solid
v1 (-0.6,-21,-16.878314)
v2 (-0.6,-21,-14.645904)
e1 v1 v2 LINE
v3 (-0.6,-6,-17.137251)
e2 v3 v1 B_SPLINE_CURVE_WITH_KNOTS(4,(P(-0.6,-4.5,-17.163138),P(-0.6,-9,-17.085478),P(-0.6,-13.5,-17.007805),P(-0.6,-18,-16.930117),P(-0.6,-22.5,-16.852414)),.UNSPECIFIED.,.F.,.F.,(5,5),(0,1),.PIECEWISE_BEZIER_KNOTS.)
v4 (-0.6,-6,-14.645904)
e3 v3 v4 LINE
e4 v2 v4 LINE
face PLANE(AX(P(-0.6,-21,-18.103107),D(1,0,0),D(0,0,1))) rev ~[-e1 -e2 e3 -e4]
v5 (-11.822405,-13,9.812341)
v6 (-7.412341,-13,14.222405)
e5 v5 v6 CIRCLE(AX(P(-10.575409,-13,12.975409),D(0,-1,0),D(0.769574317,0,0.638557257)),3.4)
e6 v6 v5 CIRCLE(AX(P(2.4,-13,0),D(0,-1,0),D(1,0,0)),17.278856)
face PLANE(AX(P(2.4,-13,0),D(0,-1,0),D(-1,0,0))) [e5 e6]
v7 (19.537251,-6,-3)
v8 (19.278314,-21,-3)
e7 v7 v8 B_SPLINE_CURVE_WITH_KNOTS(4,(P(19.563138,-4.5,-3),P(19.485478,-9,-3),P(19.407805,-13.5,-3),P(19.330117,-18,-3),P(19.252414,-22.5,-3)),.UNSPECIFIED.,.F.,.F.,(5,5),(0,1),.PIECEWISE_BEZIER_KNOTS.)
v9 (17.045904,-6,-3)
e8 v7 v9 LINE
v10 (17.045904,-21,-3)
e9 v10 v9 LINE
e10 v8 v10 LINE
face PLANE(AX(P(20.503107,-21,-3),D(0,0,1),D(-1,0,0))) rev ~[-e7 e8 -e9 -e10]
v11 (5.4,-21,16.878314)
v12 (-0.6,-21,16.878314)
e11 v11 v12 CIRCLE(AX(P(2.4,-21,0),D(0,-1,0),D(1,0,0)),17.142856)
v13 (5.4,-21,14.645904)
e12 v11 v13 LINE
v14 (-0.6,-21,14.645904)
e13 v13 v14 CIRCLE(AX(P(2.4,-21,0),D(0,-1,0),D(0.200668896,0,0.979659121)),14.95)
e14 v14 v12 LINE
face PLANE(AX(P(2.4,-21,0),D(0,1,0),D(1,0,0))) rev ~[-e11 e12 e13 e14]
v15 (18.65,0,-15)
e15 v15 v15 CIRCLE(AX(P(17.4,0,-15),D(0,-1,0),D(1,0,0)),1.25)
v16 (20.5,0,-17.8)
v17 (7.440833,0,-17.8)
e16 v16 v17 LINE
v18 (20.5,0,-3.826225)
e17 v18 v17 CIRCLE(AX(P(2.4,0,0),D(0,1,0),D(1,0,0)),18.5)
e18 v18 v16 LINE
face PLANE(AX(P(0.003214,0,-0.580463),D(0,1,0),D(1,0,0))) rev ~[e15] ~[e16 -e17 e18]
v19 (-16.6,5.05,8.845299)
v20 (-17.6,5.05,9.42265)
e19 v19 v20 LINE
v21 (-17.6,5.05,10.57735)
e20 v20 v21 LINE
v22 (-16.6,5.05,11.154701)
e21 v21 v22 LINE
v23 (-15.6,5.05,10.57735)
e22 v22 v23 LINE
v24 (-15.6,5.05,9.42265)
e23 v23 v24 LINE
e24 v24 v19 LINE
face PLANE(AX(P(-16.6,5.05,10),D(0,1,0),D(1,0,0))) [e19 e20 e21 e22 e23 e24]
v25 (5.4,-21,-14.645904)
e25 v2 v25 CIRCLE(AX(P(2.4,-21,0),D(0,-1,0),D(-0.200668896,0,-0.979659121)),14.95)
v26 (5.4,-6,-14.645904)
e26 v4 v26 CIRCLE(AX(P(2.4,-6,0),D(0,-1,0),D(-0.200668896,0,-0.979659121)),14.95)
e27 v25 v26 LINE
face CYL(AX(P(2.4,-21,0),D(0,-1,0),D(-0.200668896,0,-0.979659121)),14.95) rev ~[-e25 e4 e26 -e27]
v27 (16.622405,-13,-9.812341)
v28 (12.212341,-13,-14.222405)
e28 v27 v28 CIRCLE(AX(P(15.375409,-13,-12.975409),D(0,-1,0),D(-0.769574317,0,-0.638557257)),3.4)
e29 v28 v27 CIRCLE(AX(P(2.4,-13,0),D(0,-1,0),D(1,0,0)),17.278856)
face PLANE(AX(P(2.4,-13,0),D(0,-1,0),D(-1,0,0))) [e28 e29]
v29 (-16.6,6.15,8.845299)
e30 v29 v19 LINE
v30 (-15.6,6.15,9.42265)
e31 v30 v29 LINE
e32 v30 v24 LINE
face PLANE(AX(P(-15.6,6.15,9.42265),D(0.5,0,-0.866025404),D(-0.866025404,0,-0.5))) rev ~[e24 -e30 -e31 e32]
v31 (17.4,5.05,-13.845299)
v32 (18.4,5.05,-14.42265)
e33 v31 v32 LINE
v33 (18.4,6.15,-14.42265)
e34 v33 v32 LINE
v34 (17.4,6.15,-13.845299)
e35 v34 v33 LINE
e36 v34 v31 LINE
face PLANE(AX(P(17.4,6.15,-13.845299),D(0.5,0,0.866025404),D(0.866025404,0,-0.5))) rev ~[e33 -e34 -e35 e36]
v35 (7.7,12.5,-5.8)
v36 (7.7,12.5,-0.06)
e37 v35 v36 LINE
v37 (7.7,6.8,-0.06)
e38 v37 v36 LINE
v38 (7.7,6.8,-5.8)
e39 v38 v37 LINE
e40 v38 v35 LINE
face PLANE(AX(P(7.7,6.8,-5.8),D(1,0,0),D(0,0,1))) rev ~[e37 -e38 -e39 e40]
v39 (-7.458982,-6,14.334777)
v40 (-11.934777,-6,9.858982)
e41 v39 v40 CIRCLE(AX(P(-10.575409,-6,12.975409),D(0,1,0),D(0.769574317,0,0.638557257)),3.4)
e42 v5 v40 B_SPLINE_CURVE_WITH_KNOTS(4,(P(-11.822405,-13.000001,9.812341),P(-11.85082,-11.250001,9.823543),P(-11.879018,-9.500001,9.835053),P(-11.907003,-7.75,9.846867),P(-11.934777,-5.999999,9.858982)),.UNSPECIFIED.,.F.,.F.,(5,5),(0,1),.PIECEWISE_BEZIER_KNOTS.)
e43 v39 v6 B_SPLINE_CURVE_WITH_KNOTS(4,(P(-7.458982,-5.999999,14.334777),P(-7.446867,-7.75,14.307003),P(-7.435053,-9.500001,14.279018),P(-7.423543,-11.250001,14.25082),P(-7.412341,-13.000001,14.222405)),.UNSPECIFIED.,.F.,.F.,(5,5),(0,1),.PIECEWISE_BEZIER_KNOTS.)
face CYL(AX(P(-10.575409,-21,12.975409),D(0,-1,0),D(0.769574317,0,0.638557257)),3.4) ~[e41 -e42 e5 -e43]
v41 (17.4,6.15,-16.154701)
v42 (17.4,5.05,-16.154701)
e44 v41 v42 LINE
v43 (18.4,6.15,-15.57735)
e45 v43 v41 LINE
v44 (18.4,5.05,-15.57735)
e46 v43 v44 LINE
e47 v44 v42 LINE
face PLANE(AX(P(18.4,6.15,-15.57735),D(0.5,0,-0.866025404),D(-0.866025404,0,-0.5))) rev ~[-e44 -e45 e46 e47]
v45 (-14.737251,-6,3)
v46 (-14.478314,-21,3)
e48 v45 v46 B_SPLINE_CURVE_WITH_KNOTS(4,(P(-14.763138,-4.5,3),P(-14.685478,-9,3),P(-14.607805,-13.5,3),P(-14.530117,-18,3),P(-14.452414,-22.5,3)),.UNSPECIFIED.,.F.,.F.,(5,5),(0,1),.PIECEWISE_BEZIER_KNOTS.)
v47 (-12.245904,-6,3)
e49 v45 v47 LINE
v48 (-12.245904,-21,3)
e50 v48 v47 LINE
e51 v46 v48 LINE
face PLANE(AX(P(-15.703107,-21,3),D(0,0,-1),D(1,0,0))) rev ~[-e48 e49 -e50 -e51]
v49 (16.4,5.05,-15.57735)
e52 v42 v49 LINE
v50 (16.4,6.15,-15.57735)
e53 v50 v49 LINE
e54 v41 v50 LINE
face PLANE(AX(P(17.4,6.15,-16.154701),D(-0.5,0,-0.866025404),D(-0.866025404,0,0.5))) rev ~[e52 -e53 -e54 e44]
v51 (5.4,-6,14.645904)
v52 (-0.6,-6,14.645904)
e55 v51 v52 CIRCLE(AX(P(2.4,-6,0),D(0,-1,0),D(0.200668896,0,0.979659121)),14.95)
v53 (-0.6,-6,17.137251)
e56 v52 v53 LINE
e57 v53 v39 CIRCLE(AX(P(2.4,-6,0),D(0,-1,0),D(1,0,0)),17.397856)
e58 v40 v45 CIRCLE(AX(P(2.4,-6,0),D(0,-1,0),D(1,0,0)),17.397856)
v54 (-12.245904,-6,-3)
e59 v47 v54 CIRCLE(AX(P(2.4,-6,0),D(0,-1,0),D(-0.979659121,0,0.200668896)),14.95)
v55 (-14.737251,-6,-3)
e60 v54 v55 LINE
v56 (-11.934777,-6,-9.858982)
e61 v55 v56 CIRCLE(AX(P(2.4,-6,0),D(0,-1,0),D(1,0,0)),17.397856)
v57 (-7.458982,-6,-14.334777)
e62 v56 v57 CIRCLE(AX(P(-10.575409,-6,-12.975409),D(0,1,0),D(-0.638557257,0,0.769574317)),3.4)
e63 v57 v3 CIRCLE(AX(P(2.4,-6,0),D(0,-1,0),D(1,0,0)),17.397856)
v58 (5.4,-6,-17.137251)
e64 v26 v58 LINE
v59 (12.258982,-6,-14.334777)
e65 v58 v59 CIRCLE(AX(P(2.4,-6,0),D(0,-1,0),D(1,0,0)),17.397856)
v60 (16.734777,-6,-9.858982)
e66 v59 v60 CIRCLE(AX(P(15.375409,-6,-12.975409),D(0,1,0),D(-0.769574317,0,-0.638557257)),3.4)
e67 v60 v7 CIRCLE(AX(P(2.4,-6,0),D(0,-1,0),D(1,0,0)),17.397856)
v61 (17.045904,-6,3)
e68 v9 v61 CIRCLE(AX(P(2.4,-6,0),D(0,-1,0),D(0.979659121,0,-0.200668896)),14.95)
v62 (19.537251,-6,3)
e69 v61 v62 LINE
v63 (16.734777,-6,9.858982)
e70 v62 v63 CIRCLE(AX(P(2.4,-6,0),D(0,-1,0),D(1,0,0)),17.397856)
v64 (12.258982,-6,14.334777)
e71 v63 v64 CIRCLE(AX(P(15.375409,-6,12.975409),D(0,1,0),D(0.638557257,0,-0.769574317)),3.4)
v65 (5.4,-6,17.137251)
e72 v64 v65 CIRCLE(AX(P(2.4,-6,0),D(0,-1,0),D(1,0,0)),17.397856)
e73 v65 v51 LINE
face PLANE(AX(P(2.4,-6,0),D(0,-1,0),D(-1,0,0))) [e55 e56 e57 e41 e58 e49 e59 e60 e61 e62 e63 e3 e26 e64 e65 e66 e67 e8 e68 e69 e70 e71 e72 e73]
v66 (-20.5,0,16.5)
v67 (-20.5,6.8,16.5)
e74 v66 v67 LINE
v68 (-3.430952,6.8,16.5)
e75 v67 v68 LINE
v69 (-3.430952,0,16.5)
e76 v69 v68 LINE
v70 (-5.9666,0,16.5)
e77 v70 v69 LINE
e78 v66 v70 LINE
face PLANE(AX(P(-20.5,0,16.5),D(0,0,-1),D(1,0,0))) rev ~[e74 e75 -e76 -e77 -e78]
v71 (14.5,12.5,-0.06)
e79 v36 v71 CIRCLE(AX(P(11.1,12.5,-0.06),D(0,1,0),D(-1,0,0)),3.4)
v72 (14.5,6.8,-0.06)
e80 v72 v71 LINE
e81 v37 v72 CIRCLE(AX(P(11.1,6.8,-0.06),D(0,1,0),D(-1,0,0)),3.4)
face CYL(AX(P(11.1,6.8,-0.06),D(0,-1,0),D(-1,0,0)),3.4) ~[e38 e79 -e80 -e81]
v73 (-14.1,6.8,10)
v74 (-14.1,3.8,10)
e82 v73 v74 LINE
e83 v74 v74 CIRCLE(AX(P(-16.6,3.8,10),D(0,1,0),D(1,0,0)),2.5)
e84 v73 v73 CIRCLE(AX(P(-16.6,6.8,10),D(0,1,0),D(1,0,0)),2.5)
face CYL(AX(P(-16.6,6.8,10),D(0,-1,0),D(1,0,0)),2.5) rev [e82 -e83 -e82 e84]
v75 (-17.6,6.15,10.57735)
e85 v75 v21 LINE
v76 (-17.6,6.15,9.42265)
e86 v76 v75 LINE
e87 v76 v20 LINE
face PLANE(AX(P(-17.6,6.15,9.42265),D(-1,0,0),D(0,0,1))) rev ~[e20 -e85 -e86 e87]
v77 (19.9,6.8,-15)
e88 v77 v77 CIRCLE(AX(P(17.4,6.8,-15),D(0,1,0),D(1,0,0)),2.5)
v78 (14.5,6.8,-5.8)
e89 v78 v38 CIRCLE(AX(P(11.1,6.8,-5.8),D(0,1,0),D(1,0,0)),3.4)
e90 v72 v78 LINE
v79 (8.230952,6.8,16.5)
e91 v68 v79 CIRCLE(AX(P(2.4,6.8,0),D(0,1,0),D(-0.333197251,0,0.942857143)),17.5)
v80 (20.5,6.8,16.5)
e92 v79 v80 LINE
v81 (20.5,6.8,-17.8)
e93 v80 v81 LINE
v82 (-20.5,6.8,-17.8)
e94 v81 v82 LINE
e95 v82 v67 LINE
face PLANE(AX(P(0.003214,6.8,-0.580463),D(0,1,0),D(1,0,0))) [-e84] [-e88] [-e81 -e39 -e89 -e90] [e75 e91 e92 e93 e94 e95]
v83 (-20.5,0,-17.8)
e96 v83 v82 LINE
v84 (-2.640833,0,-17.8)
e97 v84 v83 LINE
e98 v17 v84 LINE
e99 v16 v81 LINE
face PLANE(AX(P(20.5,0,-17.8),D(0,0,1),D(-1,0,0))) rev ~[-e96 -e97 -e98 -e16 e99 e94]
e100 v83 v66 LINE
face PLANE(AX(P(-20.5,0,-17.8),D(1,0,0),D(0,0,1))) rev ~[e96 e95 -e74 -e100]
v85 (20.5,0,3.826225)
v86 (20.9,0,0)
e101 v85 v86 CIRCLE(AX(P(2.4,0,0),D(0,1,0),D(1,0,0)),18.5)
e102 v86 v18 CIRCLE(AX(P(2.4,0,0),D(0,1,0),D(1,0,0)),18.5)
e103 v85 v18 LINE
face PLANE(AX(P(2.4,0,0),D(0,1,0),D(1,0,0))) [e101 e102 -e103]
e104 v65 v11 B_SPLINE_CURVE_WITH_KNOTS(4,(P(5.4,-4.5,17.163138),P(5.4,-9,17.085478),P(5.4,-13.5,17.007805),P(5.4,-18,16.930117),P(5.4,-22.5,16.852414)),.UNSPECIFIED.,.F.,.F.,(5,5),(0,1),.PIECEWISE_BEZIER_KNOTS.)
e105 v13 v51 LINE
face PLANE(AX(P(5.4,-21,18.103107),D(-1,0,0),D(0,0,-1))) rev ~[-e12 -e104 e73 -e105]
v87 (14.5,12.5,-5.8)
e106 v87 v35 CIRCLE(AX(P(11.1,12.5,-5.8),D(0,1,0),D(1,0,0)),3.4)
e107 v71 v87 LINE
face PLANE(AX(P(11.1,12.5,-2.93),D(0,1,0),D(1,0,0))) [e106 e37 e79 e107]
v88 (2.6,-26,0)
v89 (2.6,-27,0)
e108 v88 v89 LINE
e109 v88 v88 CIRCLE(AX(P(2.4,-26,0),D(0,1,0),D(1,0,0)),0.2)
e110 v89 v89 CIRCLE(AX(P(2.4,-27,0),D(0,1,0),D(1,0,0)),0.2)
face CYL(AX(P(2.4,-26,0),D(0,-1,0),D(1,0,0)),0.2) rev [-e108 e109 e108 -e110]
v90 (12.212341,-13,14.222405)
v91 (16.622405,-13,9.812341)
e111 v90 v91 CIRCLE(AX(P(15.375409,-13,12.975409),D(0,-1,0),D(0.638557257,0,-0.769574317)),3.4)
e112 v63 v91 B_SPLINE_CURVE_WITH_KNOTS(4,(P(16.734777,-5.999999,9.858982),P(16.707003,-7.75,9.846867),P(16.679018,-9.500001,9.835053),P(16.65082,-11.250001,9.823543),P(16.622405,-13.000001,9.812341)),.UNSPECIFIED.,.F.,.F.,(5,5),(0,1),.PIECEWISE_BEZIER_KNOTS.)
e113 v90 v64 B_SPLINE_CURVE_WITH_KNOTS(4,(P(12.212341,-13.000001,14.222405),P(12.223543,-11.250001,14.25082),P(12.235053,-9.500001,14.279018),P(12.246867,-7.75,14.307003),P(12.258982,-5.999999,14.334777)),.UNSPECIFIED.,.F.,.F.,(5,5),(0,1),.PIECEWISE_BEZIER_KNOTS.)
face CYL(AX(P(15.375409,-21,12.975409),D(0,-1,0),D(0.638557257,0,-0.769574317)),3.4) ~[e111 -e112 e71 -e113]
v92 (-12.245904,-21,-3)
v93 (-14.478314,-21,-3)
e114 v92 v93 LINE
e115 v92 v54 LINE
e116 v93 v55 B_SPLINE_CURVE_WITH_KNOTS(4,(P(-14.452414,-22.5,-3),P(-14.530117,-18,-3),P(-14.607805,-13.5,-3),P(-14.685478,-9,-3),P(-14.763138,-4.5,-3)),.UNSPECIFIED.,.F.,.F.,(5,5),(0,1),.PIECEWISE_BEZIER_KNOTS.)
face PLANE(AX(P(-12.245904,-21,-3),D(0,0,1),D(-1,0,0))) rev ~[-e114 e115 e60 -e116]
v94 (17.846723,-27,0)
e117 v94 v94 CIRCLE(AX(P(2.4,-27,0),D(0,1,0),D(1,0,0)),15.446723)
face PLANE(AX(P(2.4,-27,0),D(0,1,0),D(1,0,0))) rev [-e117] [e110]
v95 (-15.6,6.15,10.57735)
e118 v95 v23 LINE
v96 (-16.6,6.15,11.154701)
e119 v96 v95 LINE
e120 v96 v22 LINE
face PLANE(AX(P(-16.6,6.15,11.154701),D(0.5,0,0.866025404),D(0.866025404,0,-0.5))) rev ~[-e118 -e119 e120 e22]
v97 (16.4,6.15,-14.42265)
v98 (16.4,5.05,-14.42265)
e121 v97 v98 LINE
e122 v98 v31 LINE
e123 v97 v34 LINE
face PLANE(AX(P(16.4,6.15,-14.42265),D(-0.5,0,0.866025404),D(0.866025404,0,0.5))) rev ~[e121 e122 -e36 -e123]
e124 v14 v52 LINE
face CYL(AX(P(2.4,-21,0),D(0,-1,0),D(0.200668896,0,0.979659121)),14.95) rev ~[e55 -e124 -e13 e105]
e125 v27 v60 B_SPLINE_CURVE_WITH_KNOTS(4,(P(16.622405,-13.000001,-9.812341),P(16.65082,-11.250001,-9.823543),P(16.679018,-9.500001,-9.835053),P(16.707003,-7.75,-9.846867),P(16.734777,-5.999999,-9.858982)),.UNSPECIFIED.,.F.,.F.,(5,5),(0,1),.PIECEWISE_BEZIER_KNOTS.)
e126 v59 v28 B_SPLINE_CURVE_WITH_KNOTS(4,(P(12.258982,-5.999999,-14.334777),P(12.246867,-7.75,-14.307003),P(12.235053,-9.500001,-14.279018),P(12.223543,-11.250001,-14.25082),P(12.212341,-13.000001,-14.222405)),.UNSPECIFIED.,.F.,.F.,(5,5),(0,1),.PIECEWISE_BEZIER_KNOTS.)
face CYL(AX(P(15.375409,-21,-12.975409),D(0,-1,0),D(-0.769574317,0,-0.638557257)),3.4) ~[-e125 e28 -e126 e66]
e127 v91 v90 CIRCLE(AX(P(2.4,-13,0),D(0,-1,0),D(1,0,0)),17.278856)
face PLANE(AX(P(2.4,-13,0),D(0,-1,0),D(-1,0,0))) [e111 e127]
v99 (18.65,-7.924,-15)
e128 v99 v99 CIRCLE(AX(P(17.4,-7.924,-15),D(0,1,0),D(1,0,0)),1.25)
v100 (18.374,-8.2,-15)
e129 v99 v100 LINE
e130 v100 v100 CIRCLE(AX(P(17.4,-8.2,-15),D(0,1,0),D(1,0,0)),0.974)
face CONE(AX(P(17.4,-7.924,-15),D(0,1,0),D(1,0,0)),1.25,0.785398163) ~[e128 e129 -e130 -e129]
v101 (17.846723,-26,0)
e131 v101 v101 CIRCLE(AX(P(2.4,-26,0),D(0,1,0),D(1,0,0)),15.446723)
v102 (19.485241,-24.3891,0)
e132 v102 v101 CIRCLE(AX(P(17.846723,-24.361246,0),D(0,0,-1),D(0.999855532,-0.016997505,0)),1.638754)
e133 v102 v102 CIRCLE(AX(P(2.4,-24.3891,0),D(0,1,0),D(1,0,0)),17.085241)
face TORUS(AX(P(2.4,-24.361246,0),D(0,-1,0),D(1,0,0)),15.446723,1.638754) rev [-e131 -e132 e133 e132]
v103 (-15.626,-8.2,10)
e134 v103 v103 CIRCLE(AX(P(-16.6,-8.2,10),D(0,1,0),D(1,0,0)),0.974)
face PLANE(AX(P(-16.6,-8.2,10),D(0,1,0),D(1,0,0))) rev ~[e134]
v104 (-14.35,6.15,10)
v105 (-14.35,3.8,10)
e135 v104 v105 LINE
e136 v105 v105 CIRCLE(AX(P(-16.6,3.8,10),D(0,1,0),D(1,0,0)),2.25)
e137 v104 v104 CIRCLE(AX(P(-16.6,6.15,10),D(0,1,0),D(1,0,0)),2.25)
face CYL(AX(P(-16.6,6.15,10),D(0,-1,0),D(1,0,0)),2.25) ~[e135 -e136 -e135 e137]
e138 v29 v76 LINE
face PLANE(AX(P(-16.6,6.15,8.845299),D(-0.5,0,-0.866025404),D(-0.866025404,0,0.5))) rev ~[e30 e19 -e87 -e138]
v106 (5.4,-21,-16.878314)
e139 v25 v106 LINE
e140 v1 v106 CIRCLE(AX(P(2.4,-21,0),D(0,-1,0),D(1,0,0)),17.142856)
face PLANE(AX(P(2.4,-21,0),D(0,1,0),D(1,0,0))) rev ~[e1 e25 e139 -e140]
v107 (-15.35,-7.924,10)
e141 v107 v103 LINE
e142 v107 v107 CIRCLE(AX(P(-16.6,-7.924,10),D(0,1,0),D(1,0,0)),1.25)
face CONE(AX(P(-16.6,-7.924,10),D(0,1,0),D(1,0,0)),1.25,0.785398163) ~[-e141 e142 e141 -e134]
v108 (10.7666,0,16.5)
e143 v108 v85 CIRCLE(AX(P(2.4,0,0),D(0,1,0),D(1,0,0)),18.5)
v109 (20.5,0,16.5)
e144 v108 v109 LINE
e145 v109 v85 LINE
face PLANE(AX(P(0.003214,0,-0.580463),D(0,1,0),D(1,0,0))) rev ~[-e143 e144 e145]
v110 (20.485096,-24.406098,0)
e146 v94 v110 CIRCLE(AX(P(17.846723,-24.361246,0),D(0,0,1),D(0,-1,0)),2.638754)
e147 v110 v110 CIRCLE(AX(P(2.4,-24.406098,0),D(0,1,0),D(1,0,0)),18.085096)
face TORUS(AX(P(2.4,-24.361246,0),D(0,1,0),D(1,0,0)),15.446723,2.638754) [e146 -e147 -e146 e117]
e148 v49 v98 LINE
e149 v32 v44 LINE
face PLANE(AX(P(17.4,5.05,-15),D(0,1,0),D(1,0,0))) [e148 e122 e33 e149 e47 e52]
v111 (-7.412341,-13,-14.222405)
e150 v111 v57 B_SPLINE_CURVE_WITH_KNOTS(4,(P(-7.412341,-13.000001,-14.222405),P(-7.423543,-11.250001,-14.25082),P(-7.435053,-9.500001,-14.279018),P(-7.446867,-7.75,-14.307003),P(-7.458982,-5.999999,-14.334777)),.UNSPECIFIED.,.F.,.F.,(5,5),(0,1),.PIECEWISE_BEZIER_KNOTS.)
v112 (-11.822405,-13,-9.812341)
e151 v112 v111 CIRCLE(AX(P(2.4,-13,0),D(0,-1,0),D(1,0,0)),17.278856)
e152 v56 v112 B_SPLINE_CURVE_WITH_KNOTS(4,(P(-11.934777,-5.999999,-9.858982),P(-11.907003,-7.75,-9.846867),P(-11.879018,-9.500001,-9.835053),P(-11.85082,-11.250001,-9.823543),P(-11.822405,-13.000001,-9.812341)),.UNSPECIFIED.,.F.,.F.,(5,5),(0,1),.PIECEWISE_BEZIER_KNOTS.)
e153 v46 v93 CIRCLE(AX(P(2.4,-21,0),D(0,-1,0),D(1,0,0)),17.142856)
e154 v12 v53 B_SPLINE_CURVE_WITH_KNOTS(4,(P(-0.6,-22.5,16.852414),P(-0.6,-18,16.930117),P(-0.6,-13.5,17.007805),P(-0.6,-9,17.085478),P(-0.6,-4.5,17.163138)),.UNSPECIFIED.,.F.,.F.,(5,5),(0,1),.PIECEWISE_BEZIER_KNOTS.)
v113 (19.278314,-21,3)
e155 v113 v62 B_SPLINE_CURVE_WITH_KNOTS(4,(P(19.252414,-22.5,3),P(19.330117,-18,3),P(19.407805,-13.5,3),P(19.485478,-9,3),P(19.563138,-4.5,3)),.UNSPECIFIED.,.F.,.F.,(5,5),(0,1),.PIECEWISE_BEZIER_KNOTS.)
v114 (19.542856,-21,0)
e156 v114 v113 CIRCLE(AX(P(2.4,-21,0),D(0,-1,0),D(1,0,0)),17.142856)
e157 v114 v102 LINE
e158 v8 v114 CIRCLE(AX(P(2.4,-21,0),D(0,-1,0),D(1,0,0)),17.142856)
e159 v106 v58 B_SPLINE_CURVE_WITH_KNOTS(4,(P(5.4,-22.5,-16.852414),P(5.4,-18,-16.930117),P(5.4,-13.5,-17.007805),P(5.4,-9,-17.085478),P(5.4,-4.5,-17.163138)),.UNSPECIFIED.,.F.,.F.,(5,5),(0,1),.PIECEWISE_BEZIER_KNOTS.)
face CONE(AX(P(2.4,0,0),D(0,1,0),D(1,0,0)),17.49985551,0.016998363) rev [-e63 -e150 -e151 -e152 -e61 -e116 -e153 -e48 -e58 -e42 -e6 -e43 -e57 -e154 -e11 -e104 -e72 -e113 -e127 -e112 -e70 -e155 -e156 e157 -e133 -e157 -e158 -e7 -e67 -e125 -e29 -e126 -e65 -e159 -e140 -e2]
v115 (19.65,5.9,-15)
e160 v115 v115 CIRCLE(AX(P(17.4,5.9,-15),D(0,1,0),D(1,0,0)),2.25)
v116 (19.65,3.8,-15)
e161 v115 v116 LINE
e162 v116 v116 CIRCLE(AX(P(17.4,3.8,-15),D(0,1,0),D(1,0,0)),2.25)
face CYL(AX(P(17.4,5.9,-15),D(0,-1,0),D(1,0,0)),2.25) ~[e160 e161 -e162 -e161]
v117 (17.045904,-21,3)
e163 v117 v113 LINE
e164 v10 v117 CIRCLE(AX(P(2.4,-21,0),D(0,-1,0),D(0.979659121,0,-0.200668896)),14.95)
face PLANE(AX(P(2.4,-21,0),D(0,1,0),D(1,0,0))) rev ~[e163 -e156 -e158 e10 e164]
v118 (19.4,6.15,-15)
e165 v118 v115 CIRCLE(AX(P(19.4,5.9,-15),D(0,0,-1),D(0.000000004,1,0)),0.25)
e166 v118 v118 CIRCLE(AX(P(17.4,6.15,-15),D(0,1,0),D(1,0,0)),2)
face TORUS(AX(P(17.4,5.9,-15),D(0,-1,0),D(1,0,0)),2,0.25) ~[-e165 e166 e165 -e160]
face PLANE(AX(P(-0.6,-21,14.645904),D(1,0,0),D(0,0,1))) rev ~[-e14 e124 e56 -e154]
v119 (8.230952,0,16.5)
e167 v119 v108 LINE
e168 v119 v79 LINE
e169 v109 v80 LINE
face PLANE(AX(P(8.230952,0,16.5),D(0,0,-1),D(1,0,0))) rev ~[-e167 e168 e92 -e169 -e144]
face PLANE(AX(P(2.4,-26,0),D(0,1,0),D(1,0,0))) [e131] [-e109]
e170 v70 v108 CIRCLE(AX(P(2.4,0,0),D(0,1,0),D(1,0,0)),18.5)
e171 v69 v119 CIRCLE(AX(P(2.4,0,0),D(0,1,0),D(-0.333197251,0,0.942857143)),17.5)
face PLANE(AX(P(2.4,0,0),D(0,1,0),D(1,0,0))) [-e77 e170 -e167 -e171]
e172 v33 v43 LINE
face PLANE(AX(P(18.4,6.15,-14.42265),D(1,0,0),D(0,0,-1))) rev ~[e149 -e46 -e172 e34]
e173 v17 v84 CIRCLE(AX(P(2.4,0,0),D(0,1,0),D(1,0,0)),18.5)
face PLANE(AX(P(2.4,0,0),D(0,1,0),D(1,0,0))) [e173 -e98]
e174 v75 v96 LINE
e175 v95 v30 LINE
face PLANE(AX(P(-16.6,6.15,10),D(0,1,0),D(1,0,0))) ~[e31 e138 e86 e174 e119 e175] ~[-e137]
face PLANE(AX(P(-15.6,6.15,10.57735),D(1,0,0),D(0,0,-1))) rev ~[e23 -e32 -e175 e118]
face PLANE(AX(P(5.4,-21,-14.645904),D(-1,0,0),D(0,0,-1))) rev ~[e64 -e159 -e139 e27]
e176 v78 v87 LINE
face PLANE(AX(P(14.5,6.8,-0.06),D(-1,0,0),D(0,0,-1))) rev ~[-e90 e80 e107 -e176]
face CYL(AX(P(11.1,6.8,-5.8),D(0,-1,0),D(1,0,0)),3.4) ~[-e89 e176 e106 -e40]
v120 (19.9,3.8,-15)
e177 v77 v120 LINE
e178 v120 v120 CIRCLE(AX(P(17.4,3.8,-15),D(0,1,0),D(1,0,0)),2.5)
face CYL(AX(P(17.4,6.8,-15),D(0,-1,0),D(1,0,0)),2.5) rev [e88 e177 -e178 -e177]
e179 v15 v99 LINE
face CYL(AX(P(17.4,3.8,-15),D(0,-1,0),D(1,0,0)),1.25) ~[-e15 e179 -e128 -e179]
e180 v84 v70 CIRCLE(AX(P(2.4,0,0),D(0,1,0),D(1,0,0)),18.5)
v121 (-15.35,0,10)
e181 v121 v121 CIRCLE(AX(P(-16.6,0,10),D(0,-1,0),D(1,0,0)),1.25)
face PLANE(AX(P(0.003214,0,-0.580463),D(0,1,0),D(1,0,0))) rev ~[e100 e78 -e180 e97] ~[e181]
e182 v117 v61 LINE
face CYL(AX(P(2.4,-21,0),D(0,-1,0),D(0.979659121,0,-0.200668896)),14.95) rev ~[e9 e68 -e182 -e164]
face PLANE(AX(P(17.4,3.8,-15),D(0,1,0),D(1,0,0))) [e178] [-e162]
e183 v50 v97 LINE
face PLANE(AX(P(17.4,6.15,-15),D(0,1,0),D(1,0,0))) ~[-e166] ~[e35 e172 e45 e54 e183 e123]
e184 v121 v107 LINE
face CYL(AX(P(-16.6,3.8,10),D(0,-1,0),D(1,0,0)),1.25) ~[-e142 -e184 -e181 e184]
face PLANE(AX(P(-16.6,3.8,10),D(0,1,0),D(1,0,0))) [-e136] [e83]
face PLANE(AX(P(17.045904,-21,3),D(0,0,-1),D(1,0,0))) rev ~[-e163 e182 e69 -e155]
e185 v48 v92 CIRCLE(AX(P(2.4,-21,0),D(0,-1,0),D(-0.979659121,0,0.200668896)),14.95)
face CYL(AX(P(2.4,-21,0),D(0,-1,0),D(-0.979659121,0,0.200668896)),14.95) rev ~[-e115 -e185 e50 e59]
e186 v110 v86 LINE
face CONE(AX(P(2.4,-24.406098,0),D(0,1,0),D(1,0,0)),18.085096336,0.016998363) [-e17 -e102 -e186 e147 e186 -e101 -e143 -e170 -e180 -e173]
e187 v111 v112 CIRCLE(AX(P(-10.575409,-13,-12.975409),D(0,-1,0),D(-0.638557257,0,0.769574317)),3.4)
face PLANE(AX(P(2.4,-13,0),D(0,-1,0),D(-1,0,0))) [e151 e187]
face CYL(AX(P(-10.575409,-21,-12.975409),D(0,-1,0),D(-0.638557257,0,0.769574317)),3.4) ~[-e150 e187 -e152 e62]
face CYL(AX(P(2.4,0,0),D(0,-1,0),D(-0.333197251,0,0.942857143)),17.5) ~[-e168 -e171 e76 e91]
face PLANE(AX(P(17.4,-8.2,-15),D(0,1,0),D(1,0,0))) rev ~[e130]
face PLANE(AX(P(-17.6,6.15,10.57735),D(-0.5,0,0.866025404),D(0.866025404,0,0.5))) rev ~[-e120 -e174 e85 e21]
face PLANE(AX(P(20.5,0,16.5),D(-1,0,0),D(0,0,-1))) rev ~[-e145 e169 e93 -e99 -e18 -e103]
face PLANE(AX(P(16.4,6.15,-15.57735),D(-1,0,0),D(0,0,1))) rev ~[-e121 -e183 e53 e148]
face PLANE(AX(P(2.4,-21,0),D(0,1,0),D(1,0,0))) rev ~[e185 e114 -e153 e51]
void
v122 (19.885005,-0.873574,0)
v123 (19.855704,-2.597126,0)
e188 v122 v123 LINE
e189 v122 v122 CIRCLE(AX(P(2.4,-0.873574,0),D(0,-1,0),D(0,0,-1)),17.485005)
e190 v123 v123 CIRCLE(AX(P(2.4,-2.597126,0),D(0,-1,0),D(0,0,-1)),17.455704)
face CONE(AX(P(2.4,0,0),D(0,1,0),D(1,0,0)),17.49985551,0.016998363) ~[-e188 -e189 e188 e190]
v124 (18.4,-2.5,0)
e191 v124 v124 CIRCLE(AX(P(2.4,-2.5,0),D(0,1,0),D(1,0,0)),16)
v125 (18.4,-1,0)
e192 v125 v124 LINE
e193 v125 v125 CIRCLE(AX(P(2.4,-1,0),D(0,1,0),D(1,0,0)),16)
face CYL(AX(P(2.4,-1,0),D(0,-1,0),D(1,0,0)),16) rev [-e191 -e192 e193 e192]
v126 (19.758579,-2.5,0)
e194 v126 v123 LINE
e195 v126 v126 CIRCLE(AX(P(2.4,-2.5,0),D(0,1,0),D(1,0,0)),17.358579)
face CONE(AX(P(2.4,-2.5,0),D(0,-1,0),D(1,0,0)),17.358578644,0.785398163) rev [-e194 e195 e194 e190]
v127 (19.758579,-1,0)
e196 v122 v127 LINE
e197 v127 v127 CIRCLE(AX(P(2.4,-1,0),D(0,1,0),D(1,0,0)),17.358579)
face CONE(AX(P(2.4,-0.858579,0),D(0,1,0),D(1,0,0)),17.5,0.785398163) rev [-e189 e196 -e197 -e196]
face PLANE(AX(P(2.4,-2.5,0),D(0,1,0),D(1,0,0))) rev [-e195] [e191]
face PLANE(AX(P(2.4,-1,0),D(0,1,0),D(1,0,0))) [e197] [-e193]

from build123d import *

# Parameters (mm, degrees)
BOSS_EXTRUDE1_DEPTH = 6.8
CUT_EXTRUDE1_DEPTH  = 15
CUT_EXTRUDE2_DEPTH  = 8
BOSS_EXTRUDE2_DEPTH = 5.7
CUT_EXTRUDE3_DEPTH  = 1.1
CUT_EXTRUDE4_DEPTH  = 1.1


with BuildPart() as part:
    # Sketch1 → Revolve1 (revolve)
    with BuildSketch(Plane.XY):
        Polygon((2.4, 0), (19.9, 0), (19.9, -0.858578644), (19.758578644, -1), (18.4, -1), (18.4, -2.5), (19.758578644, -2.5), (19.9, -2.641421356), (19.9, -21), (2.4, -21), align=None)
    revolve(axis=Axis((2.4, -21, 0), (0, 1, 0)))

    # Sketch2 → Boss-Extrude1 (add)
    with BuildSketch(Plane(origin=(0, 0, 0), x_dir=(1, 0, 0), z_dir=(0, 1, 0))):
        with BuildLine():
            Line((-20.5, 17.8), (-20.5, -16.5))
            Line((-20.5, -16.5), (-3.430951895, -16.5))
            ThreePointArc((-3.430951895, -16.5), (2.4, -17.5), (8.230951895, -16.5))
            Line((8.230951895, -16.5), (20.5, -16.5))
            Line((20.5, -16.5), (20.5, 17.8))
            Line((20.5, 17.8), (-20.5, 17.8))
        make_face()
    extrude(amount=BOSS_EXTRUDE1_DEPTH)

    # Sketch3 → Cut-Extrude1 (cut)
    with BuildSketch(Plane(origin=(0, -21, 0), x_dir=(-1, 0, 0), z_dir=(0, -1, 0))):
        with BuildLine():
            Line((0.6, 18.103107468), (0.6, 14.645903864))
            ThreePointArc((0.6, 14.645903864), (-2.4, 14.95), (-5.4, 14.645903864))
            Line((-5.4, 14.645903864), (-5.4, 18.103107468))
            ThreePointArc((-5.4, 18.103107468), (-9.241062733, 17.027106645), (-12.758856756, 15.146504108))
            ThreePointArc((-12.758856756, 15.146504108), (-12.971246379, 10.571246379), (-17.546504108, 10.358856756))
            ThreePointArc((-17.546504108, 10.358856756), (-19.427106645, 6.841062733), (-20.503107468, 3))
            Line((-20.503107468, 3), (-17.045903864, 3))
            ThreePointArc((-17.045903864, 3), (-17.35, 0), (-17.045903864, -3))
            Line((-17.045903864, -3), (-20.503107468, -3))
            ThreePointArc((-20.503107468, -3), (-19.427106645, -6.841062733), (-17.546504108, -10.358856756))
            ThreePointArc((-17.546504108, -10.358856756), (-12.971246379, -10.571246379), (-12.758856756, -15.146504108))
            ThreePointArc((-12.758856756, -15.146504108), (-9.241062733, -17.027106645), (-5.4, -18.103107468))
            Line((-5.4, -18.103107468), (-5.4, -14.645903864))
            ThreePointArc((-5.4, -14.645903864), (-2.4, -14.95), (0.6, -14.645903864))
            Line((0.6, -14.645903864), (0.6, -18.103107468))
            ThreePointArc((0.6, -18.103107468), (4.441062733, -17.027106645), (7.958856756, -15.146504108))
            ThreePointArc((7.958856756, -15.146504108), (8.171246379, -10.571246379), (12.746504108, -10.358856756))
            ThreePointArc((12.746504108, -10.358856756), (14.627106645, -6.841062733), (15.703107468, -3))
            Line((15.703107468, -3), (12.245903864, -3))
            ThreePointArc((12.245903864, -3), (12.55, 0), (12.245903864, 3))
            Line((12.245903864, 3), (15.703107468, 3))
            ThreePointArc((15.703107468, 3), (14.627106645, 6.841062733), (12.746504108, 10.358856756))
            ThreePointArc((12.746504108, 10.358856756), (8.171246379, 10.571246379), (7.958856756, 15.146504108))
            ThreePointArc((7.958856756, 15.146504108), (4.441062733, 17.027106645), (0.6, 18.103107468))
        make_face()
    extrude(amount=-CUT_EXTRUDE1_DEPTH, mode=Mode.SUBTRACT)

    # Sketch4 → Cut-Extrude2 (cut)
    with BuildSketch(Plane(origin=(0, -21, 0), x_dir=(-1, 0, 0), z_dir=(0, -1, 0))):
        Polygon((18.813203436, -14.142135624), (4.671067812, 0), (18.813203436, 14.142135624), (11.742135624, 21.213203436), (-2.4, 7.071067812), (-16.542135624, 21.213203436), (-23.613203436, 14.142135624), (-9.471067812, 0), (-23.613203436, -14.142135624), (-16.542135624, -21.213203436), (-2.4, -7.071067812), (11.742135624, -21.213203436), align=None)
    extrude(amount=-CUT_EXTRUDE2_DEPTH, mode=Mode.SUBTRACT)

    # Sketch5 → Boss-Extrude2 (add)
    with BuildSketch(Plane(origin=(0, 6.8, 0), x_dir=(1, 0, 0), z_dir=(0, 1, 0))):
        with BuildLine():
            Line((14.5, 0.06), (14.5, 5.8))
            ThreePointArc((14.5, 5.8), (11.1, 9.2), (7.7, 5.8))
            Line((7.7, 5.8), (7.7, 0.06))
            ThreePointArc((7.7, 0.06), (11.1, -3.34), (14.5, 0.06))
        make_face()
    extrude(amount=BOSS_EXTRUDE2_DEPTH)

    # Sketch6 → Cut-Revolve1 (revolve, cut)
    with BuildSketch(Plane.XY.offset(-15)):
        Polygon((17.4, 6.8), (19.9, 6.8), (19.9, 3.8), (18.65, 3.8), (18.65, -0.2), (17.4, -0.2), align=None)
    revolve(axis=Axis((17.4, -0.2, -15), (0, 1, 0)), mode=Mode.SUBTRACT)

    # Sketch7 → Revolve2 (revolve)
    with BuildSketch(Plane.XY.offset(-15)):
        with BuildLine():
            Line((17.4, 6.15), (19.4, 6.15))
            ThreePointArc((19.4, 6.15), (19.576776695, 6.076776695), (19.65, 5.9))
            Line((19.65, 5.9), (19.65, 3.8))
            Line((19.65, 3.8), (18.65, 3.8))
            Line((18.65, 3.8), (18.65, -7.924))
            Line((18.65, -7.924), (18.374, -8.2))
            Line((18.374, -8.2), (17.4, -8.2))
            Line((17.4, -8.2), (17.4, 6.15))
        make_face()
    revolve(axis=Axis((17.4, -8.2, -15), (0, 1, 0)))

    # Sketch8 → Cut-Extrude3 (cut)
    with BuildSketch(Plane(origin=(0, 6.15, 0), x_dir=(1, 0, 0), z_dir=(0, 1, 0))):
        Polygon((16.4, 14.422649731), (17.4, 13.845299462), (18.4, 14.422649731), (18.4, 15.577350269), (17.4, 16.154700538), (16.4, 15.577350269), align=None)
    extrude(amount=-CUT_EXTRUDE3_DEPTH, mode=Mode.SUBTRACT)

    # Sketch9 → Cut-Revolve2 (revolve, cut)
    with BuildSketch(Plane.XY.offset(10)):
        Polygon((-16.6, 6.8), (-14.1, 6.8), (-14.1, 3.8), (-15.35, 3.8), (-15.35, -0.2), (-16.6, -0.2), align=None)
    revolve(axis=Axis((-16.6, -0.2, 10), (0, 1, 0)), mode=Mode.SUBTRACT)

    # Sketch10 → Revolve3 (revolve)
    with BuildSketch(Plane.XY.offset(10)):
        Polygon((-16.6, 6.15), (-14.35, 6.15), (-14.35, 3.8), (-15.35, 3.8), (-15.35, -7.924), (-15.626, -8.2), (-16.6, -8.2), align=None)
    revolve(axis=Axis((-16.6, -8.2, 10), (0, 1, 0)))

    # Sketch11 → Cut-Extrude4 (cut)
    with BuildSketch(Plane(origin=(0, 6.15, 0), x_dir=(1, 0, 0), z_dir=(0, 1, 0))):
        Polygon((-17.6, -10.577350269), (-16.6, -11.154700538), (-15.6, -10.577350269), (-15.6, -9.422649731), (-16.6, -8.845299462), (-17.6, -9.422649731), align=None)
    extrude(amount=-CUT_EXTRUDE4_DEPTH, mode=Mode.SUBTRACT)

    # Sketch12 → Revolve4 (revolve)
    with BuildSketch(Plane.XY):
        with BuildLine():
            Line((2.6, -26), (2.6, -27))
            Line((2.6, -27), (17.846723092, -27))
            ThreePointArc((17.846723092, -27), (19.696678603, -26.242917592), (20.485096336, -24.406097884))
            Line((20.485096336, -24.406097884), (20.9, 0))
            Line((20.9, 0), (19.89985551, 0))
            Line((19.89985551, 0), (19.485240806, -24.389100276))
            ThreePointArc((19.485240806, -24.389100276), (18.995607117, -25.529826594), (17.846723028, -26))
            Line((17.846723028, -26), (2.6, -26))
        make_face()
    revolve(axis=Axis((2.4, -27, 0), (0, 1, 0)))


solid = part.part
